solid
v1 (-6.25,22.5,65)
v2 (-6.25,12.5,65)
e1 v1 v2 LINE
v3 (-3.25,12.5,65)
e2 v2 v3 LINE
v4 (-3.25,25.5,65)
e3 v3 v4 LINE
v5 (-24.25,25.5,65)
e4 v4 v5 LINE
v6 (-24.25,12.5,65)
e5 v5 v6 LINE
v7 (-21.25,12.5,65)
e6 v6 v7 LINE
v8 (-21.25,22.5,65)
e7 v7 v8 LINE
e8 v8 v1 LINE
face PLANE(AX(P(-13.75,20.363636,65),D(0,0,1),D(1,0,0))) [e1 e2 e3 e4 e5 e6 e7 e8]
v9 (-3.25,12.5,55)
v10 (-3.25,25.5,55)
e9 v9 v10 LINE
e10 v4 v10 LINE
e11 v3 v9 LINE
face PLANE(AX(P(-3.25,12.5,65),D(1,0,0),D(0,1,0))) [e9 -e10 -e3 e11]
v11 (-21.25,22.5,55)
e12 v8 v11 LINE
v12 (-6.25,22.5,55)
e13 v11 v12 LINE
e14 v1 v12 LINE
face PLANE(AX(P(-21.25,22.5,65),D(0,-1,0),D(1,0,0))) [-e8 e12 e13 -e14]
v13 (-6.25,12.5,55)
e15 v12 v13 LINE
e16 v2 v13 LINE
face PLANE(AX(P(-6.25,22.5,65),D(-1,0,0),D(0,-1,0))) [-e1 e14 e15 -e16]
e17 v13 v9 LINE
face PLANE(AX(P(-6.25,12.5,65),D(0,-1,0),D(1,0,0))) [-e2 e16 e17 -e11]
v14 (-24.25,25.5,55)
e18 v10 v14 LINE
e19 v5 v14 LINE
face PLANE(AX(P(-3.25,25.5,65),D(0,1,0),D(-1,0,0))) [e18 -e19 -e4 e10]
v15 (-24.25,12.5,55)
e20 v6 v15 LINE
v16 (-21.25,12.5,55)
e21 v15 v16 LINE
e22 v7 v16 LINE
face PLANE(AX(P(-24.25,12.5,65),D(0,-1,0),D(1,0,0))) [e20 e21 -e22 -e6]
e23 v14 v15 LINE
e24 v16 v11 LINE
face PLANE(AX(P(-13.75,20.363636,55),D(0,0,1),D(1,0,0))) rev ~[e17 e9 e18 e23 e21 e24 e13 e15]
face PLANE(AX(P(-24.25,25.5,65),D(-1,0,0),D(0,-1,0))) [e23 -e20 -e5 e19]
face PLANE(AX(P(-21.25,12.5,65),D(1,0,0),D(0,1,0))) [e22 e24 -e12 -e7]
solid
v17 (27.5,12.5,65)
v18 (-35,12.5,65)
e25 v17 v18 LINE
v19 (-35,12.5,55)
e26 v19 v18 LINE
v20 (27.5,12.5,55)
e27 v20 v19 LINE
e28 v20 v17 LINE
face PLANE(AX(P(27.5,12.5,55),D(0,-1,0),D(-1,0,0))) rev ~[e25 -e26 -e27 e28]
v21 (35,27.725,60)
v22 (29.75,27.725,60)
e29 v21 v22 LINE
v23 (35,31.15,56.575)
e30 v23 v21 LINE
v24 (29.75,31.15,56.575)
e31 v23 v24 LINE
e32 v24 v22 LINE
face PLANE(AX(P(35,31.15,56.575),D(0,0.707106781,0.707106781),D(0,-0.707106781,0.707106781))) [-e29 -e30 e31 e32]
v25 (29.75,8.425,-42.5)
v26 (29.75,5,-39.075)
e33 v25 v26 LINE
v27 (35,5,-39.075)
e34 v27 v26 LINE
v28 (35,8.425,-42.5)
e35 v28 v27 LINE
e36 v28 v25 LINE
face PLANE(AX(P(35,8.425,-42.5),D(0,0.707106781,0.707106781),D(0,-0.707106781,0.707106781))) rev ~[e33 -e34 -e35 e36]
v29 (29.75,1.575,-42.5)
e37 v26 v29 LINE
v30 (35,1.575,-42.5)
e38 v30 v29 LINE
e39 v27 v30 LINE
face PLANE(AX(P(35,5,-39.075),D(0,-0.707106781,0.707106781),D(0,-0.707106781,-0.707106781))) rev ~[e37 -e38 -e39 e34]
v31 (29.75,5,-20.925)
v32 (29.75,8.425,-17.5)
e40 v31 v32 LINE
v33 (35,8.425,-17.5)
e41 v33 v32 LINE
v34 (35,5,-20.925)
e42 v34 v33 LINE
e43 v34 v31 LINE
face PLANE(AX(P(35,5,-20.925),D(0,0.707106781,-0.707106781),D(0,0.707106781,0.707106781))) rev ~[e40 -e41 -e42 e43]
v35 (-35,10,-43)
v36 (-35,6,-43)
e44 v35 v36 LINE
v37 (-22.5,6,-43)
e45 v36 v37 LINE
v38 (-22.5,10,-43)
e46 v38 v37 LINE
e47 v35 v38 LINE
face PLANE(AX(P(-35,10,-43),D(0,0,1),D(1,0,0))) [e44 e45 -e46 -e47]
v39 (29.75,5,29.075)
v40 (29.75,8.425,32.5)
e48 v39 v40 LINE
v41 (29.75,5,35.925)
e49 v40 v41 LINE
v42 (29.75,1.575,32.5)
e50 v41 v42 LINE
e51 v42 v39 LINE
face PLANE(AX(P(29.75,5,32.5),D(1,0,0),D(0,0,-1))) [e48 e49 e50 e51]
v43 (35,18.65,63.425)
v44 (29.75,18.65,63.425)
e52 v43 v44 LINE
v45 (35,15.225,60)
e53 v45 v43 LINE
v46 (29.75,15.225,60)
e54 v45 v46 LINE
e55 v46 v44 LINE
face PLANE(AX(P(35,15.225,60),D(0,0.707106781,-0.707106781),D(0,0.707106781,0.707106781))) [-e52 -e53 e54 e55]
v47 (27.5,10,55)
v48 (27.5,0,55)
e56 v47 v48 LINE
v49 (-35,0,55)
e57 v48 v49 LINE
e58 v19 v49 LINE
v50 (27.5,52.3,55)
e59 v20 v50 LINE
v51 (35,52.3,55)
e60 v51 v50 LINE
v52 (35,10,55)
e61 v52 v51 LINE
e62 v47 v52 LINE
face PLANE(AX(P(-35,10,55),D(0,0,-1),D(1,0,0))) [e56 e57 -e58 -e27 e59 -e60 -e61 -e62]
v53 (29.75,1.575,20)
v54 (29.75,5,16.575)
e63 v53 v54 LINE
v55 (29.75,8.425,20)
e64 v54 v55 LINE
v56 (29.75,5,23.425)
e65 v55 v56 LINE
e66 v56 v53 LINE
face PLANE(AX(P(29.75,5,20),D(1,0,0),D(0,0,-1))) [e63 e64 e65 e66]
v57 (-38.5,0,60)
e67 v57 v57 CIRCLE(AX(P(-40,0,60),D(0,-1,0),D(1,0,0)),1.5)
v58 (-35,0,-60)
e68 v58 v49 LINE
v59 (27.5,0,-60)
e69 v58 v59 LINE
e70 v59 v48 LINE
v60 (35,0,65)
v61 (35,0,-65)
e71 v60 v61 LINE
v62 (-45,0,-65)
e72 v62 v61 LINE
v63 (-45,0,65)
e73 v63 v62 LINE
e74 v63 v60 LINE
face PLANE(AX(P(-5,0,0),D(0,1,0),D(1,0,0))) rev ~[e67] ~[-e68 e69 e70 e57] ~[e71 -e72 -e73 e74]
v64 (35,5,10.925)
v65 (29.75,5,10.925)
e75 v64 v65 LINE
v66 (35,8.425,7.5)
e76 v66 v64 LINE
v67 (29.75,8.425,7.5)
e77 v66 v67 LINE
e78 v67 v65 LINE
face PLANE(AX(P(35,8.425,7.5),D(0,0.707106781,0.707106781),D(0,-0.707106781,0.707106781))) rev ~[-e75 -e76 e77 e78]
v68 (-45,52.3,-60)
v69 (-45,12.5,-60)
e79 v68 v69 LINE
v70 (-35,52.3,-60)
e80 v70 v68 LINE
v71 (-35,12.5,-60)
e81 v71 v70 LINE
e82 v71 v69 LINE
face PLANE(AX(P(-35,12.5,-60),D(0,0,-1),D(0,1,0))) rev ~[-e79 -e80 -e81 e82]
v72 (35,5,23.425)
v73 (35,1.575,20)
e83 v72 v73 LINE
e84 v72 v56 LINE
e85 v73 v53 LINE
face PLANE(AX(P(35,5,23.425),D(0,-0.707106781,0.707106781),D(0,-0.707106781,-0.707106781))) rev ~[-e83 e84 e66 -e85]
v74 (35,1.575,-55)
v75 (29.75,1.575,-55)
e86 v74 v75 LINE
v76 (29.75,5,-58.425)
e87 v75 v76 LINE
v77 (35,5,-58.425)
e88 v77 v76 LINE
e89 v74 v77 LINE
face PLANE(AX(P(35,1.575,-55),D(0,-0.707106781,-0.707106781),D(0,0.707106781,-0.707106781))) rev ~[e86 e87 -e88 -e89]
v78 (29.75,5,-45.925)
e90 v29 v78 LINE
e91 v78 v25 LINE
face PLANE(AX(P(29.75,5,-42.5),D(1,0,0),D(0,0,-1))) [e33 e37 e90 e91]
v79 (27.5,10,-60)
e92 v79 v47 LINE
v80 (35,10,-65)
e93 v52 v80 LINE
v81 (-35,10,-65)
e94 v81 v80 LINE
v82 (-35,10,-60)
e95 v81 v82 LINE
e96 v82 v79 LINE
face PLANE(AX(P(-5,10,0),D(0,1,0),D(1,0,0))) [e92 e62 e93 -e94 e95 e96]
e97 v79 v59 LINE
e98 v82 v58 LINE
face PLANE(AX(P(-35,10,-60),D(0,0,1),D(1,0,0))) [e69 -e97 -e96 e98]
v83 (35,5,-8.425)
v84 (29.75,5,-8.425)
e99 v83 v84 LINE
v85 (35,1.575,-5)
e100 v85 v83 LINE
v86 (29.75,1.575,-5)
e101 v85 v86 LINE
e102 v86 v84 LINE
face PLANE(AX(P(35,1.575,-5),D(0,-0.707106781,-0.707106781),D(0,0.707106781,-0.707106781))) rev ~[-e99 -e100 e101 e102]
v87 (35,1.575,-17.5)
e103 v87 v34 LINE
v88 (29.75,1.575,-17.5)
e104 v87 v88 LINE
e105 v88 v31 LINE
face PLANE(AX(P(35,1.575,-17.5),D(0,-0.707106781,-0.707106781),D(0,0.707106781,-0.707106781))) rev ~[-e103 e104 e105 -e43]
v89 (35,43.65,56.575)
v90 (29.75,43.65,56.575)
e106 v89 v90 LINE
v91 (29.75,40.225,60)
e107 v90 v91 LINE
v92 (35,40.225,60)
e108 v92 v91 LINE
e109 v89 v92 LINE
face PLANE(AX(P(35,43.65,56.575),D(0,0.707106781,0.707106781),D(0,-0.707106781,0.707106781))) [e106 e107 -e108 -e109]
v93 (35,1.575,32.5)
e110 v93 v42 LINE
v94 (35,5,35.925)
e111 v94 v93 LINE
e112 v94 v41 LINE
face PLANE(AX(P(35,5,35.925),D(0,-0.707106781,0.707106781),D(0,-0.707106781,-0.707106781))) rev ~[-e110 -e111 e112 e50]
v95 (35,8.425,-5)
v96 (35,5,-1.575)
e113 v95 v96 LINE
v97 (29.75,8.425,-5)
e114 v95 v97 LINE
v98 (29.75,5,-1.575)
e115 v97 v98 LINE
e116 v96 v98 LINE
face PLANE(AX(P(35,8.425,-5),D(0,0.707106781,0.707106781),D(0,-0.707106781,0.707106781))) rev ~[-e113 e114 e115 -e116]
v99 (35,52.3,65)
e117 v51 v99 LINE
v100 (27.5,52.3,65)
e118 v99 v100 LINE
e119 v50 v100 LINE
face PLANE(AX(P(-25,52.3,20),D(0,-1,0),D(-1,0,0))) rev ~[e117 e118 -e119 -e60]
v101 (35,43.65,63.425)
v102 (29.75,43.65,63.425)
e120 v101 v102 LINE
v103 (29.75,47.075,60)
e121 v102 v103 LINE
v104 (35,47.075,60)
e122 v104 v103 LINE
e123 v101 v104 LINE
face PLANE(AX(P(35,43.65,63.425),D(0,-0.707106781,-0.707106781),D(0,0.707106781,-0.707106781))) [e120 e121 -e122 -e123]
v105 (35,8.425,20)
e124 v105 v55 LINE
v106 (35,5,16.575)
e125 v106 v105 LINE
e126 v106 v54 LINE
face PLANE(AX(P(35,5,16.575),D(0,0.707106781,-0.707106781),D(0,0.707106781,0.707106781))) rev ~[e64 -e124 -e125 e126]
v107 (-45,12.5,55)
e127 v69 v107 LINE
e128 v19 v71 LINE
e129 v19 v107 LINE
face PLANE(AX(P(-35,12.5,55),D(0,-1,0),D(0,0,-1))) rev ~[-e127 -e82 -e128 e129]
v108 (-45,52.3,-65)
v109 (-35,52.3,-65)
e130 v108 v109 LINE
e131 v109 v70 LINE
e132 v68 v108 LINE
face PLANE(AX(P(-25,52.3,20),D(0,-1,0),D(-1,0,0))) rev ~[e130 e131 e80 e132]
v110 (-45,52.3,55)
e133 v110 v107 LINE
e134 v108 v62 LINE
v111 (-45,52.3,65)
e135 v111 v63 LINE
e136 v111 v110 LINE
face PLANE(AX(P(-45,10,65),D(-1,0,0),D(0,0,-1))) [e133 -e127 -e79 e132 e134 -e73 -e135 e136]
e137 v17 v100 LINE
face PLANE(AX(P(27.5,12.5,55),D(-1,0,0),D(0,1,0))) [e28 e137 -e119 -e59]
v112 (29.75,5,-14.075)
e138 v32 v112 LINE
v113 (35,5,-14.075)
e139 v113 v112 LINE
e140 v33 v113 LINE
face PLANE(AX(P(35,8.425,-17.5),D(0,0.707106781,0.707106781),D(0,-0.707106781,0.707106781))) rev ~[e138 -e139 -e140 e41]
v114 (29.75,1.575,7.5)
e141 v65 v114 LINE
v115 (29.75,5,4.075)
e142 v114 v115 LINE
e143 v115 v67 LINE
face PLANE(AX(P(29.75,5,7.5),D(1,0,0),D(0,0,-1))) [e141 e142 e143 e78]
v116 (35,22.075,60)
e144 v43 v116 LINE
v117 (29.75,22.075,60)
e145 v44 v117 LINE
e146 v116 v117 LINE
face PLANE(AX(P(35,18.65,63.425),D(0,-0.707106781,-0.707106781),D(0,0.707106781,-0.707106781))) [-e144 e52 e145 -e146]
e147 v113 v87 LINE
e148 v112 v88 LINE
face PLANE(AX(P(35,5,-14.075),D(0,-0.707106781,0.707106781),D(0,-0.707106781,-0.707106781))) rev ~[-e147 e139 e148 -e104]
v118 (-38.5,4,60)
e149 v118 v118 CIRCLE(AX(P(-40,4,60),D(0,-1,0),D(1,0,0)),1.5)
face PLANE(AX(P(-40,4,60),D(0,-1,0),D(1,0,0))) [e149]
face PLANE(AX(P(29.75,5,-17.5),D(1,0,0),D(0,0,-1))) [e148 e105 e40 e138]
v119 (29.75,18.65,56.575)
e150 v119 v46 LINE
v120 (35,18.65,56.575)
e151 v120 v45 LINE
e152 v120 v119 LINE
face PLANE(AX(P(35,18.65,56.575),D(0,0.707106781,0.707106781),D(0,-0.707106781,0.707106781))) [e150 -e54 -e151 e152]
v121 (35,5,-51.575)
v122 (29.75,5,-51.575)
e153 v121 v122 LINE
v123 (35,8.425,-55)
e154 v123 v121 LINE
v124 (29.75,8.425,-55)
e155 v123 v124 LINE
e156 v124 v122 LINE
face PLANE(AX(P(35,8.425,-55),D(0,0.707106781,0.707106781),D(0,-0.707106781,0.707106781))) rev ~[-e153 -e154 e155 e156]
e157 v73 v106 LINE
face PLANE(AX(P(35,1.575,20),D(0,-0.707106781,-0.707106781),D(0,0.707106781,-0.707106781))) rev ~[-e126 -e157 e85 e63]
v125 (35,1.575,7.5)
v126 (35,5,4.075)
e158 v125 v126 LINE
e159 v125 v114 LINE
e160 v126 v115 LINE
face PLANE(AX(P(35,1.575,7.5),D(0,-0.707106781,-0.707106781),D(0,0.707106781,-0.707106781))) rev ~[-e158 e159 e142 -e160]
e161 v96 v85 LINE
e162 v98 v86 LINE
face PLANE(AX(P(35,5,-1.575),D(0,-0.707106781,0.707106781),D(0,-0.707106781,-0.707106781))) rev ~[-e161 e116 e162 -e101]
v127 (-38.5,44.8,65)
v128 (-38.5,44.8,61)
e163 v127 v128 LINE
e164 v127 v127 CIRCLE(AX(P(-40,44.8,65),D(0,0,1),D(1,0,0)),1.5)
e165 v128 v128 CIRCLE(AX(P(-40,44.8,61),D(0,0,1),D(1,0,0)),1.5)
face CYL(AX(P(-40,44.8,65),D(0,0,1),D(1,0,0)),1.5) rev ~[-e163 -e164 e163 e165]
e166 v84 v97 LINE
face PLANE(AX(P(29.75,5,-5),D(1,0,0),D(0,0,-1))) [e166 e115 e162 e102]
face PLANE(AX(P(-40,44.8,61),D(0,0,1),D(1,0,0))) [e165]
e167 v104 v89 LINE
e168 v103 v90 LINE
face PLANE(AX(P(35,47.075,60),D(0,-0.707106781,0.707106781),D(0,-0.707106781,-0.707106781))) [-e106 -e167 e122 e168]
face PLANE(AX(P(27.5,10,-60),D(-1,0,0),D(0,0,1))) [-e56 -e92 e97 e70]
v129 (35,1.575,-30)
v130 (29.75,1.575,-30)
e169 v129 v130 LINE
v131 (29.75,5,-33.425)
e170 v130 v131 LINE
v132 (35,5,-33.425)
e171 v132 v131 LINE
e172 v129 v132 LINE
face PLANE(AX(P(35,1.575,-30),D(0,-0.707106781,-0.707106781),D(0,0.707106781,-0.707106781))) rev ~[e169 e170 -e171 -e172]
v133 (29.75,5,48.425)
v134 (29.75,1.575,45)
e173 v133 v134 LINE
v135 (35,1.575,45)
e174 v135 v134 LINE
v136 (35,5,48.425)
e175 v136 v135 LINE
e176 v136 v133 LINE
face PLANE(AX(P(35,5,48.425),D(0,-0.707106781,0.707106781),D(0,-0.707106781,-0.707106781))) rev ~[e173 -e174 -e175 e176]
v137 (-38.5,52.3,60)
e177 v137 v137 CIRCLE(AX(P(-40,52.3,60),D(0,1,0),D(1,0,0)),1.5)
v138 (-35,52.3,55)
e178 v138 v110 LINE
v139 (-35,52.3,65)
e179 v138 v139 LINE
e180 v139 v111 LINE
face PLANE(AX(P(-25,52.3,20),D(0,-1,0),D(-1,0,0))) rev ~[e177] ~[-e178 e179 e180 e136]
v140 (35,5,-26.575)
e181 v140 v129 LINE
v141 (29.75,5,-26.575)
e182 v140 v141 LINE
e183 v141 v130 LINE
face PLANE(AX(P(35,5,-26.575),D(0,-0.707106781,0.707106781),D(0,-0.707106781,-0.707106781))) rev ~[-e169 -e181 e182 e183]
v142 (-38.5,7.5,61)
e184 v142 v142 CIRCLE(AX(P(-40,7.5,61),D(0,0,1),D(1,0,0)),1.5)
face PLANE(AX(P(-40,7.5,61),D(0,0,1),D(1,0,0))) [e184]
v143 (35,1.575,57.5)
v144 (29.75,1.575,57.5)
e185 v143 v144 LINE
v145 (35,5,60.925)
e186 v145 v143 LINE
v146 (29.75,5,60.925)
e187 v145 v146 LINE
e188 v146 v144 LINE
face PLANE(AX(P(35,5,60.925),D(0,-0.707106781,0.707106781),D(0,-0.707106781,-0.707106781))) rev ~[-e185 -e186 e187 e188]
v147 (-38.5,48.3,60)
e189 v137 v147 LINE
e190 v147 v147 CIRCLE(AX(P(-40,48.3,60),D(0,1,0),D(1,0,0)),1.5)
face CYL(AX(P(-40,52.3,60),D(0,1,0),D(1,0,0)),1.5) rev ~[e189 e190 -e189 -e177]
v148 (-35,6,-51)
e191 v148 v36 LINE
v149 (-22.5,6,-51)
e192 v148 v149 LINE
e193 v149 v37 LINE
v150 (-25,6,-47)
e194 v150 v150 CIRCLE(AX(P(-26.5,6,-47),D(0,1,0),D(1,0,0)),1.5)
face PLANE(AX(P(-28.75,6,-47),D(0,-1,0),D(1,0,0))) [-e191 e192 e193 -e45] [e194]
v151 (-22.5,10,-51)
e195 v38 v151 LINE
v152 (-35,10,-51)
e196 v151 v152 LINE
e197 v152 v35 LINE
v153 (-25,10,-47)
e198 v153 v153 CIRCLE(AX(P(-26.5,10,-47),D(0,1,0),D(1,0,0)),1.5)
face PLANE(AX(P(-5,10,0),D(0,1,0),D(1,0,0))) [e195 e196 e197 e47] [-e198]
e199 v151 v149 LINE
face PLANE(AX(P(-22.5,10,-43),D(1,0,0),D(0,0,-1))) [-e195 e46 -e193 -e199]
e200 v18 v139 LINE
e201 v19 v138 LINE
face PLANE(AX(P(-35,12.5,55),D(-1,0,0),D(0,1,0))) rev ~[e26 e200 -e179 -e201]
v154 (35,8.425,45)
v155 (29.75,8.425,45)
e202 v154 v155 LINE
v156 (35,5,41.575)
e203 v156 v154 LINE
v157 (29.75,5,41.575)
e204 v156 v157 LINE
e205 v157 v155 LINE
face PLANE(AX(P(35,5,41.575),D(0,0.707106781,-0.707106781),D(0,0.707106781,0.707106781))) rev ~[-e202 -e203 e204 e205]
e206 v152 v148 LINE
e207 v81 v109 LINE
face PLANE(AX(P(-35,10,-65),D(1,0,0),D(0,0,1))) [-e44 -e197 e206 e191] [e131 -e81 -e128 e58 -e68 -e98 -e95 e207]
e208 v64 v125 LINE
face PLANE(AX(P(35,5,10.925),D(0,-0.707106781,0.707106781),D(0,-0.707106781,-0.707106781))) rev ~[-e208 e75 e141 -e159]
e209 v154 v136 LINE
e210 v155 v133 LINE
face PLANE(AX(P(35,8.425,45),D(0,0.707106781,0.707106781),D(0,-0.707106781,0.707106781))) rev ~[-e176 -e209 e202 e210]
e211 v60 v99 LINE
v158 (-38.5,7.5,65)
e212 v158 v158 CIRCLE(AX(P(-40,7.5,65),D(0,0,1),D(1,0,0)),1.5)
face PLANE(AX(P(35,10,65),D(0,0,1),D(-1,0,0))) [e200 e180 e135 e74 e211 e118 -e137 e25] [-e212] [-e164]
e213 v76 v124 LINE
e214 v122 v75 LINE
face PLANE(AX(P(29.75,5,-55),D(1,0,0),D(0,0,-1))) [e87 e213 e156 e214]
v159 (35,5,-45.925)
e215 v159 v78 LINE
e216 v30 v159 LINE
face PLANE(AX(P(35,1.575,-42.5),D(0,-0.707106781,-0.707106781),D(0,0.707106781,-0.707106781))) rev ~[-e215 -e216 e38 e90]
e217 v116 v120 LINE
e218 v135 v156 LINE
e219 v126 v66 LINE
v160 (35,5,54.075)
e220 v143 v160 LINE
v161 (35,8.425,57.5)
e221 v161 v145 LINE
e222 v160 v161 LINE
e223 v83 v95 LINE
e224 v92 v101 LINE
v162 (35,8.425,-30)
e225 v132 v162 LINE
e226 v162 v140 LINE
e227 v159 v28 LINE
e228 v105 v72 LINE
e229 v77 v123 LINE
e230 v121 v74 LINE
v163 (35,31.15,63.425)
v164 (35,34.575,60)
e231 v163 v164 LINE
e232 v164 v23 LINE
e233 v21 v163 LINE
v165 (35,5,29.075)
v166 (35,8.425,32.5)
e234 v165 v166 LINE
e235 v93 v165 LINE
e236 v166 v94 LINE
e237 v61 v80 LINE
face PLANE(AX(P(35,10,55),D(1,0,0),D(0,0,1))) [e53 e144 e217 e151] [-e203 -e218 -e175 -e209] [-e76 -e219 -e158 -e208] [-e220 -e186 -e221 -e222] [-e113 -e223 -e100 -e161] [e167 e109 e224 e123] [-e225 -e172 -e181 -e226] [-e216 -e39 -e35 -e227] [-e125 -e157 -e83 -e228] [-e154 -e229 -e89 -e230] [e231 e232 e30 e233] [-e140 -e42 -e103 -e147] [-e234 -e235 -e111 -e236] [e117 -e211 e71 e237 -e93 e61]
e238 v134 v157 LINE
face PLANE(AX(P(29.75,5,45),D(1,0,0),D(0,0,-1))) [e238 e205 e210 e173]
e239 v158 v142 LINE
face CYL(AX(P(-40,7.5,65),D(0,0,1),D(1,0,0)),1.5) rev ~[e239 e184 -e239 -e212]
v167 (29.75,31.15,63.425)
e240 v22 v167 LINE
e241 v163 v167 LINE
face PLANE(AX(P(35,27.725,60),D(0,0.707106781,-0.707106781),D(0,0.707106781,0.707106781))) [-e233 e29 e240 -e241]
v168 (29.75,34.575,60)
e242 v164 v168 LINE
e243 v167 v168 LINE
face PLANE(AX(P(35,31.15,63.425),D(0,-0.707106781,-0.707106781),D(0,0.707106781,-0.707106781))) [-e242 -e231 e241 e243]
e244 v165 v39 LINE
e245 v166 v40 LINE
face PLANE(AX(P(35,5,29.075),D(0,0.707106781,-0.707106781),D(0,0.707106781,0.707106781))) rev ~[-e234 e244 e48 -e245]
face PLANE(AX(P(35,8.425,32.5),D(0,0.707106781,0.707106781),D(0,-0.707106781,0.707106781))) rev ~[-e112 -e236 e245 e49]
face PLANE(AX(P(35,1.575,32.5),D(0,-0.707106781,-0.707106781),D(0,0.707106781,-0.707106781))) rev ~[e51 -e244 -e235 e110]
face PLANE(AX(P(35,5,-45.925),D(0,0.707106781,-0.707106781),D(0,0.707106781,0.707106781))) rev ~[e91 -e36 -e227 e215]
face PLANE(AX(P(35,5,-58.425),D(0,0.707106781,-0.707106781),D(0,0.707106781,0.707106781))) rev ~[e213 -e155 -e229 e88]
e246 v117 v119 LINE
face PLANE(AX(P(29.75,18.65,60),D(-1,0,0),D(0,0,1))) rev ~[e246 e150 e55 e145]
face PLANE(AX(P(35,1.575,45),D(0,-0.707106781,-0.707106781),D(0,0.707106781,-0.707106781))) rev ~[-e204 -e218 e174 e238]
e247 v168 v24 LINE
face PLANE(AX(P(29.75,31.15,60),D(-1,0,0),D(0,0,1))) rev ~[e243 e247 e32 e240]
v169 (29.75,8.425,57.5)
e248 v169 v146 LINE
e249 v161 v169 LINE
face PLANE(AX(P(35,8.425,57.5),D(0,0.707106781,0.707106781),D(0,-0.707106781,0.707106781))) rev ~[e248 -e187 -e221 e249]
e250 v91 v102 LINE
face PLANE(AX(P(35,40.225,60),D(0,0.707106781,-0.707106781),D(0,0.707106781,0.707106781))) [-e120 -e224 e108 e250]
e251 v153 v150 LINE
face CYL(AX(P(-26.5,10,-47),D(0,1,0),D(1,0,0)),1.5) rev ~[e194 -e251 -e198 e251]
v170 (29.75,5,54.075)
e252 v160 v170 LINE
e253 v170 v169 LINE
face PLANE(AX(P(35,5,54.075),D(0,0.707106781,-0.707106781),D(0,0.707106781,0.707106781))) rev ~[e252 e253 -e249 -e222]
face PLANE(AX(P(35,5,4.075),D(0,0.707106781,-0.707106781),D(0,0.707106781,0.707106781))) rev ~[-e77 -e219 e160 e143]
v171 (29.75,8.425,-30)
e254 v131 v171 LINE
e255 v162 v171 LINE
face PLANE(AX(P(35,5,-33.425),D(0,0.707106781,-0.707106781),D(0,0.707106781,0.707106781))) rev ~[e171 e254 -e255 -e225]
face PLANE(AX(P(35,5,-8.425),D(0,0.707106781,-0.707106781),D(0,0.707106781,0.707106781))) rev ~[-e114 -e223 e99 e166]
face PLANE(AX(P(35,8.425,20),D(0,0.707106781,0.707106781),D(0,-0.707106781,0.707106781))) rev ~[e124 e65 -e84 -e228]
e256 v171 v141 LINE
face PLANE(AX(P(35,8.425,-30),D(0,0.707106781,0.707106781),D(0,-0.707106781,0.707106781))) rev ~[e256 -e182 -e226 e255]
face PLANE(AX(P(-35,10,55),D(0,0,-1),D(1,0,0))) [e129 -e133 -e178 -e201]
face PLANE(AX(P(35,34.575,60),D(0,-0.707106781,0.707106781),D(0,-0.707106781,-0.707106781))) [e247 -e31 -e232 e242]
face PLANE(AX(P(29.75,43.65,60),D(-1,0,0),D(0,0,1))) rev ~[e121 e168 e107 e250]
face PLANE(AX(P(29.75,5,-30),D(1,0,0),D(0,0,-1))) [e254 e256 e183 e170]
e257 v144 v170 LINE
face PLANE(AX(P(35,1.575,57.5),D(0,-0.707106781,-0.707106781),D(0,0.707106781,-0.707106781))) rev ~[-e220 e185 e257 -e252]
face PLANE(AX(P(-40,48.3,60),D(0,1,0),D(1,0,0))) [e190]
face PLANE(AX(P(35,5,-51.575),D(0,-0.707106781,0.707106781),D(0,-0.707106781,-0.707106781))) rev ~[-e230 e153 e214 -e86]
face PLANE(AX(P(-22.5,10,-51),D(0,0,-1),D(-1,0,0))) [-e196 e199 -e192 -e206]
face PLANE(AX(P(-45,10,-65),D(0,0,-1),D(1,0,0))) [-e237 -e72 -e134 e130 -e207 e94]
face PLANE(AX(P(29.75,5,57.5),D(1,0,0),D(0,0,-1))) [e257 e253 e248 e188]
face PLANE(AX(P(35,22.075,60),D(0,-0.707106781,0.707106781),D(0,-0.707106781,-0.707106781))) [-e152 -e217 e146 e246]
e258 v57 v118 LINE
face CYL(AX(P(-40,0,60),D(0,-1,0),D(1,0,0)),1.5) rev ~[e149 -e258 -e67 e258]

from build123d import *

# Parameters (mm, degrees)
SKETCH1_W           = 80
SKETCH1_H           = 130
BOSS_EXTRUDE1_DEPTH = 10
BOSS_EXTRUDE2_DEPTH = 42.3
CUT_EXTRUDE1_DEPTH  = 5.25
SKETCH4_R           = 1.5
CUT_EXTRUDE2_DEPTH  = 11
CUT_EXTRUDE3_DEPTH  = 11
SKETCH7_W           = 115
SKETCH7_H           = 39.8
CUT_EXTRUDE4_DEPTH  = 11
SKETCH8_W           = 62.5
SKETCH8_H           = 39.8
CUT_EXTRUDE5_DEPTH  = 10
SKETCH9_R           = 1.5
CUT_EXTRUDE6_DEPTH  = 4
SKETCH10_R          = 1.5
CUT_EXTRUDE7_DEPTH  = 4
SKETCH11_W          = 12.5
SKETCH11_H          = 8
CUT_EXTRUDE8_DEPTH  = 6
BOSS_EXTRUDE3_DEPTH = 10
SKETCH14_R          = 1.5
CUT_EXTRUDE9_DEPTH  = 4


with BuildPart() as part:
    # Sketch1 → Boss-Extrude1 (new body)
    with BuildSketch(Plane(origin=(0, 0, 0), x_dir=(1, 0, 0), z_dir=(0, 1, 0))):
        with Locations((-5, 0)):
            Rectangle(SKETCH1_W, SKETCH1_H)
    extrude(amount=BOSS_EXTRUDE1_DEPTH)

    # Sketch2 → Boss-Extrude2 (add)
    with BuildSketch(Plane(origin=(0, 10, 0), x_dir=(1, 0, 0), z_dir=(0, 1, 0))):
        Polygon((35, -65), (-45, -65), (-45, 65), (-35, 65), (-35, -55), (35, -55), align=None)
    extrude(amount=BOSS_EXTRUDE2_DEPTH)

    # Sketch3 → Cut-Extrude1 (cut)
    with BuildSketch(Plane(origin=(35, 0, 0), x_dir=(0, 0, -1), z_dir=(1, 0, 0))):
        Polygon((20.925, 5), (17.5, 8.425), (14.075, 5), (17.5, 1.575), align=None)
        Polygon((33.425, 5), (30, 8.425), (26.575, 5), (30, 1.575), align=None)
        Polygon((5, 8.425), (1.575, 5), (5, 1.575), (8.425, 5), align=None)
        Polygon((-4.075, 5), (-7.5, 8.425), (-10.925, 5), (-7.5, 1.575), align=None)
        Polygon((-16.575, 5), (-20, 8.425), (-23.425, 5), (-20, 1.575), align=None)
        Polygon((-29.075, 5), (-32.5, 8.425), (-35.925, 5), (-32.5, 1.575), align=None)
        Polygon((-41.575, 5), (-45, 8.425), (-48.425, 5), (-45, 1.575), align=None)
        Polygon((-54.075, 5), (-57.5, 8.425), (-60.925, 5), (-57.5, 1.575), align=None)
        Polygon((-63.425, 31.15), (-60, 34.575), (-56.575, 31.15), (-60, 27.725), align=None)
        Polygon((-60, 40.225), (-63.425, 43.65), (-60, 47.075), (-56.575, 43.65), align=None)
        Polygon((-60, 15.225), (-63.425, 18.65), (-60, 22.075), (-56.575, 18.65), align=None)
        Polygon((45.925, 5), (42.5, 8.425), (39.075, 5), (42.5, 1.575), align=None)
        Polygon((58.425, 5), (55, 8.425), (51.575, 5), (55, 1.575), align=None)
    extrude(amount=-CUT_EXTRUDE1_DEPTH, mode=Mode.SUBTRACT)

    # Sketch4 → Cut-Extrude2 (cut, through all)
    with BuildSketch(Plane(origin=(0, 10, 0), x_dir=(1, 0, 0), z_dir=(0, 1, 0))):
        with Locations((-26.5, 47)):
            Circle(SKETCH4_R)
    extrude(amount=-CUT_EXTRUDE2_DEPTH, mode=Mode.SUBTRACT)

    # Sketch5 → Cut-Extrude3 (cut, through all)
    with BuildSketch(Plane(origin=(0, 10, 0), x_dir=(1, 0, 0), z_dir=(0, 1, 0))):
        Polygon((-35, -55), (-35, 43), (-22.5, 43), (-22.5, 51), (-35, 51), (-35, 60), (27.5, 60), (27.5, -55), align=None)
    extrude(amount=-CUT_EXTRUDE3_DEPTH, mode=Mode.SUBTRACT)

    # Sketch7 → Cut-Extrude4 (cut, through all)
    with BuildSketch(Plane(origin=(-35, 0, 0), x_dir=(0, 0, -1), z_dir=(1, 0, 0))):
        with Locations((2.5, 32.4)):
            Rectangle(SKETCH7_W, SKETCH7_H)
    extrude(amount=-CUT_EXTRUDE4_DEPTH, mode=Mode.SUBTRACT)

    # Sketch8 → Cut-Extrude5 (cut)
    with BuildSketch(Plane(origin=(0, 0, 55), x_dir=(-1, 0, 0), z_dir=(0, 0, -1))):
        with Locations((3.75, 32.4)):
            Rectangle(SKETCH8_W, SKETCH8_H)
    extrude(amount=-CUT_EXTRUDE5_DEPTH, mode=Mode.SUBTRACT)

    # Sketch9 → Cut-Extrude6 (cut)
    with BuildSketch(Plane(origin=(0, 52.3, 0), x_dir=(1, 0, 0), z_dir=(0, 1, 0))):
        with Locations((-40, -60)):
            Circle(SKETCH9_R)
    extrude(amount=-CUT_EXTRUDE6_DEPTH, mode=Mode.SUBTRACT)

    # Sketch10 → Cut-Extrude7 (cut)
    with BuildSketch(Plane.XZ):
        with Locations((-40, 60)):
            Circle(SKETCH10_R)
    extrude(amount=-CUT_EXTRUDE7_DEPTH, mode=Mode.SUBTRACT)

    # Sketch11 → Cut-Extrude8 (cut)
    with BuildSketch(Plane.XZ):
        with Locations((-28.75, -47)):
            Rectangle(SKETCH11_W, SKETCH11_H)
    extrude(amount=-CUT_EXTRUDE8_DEPTH, mode=Mode.SUBTRACT)

    # Sketch14 → Cut-Extrude9 (cut)
    with BuildSketch(Plane.XY.offset(65)):
        with Locations((-40, 44.8)):
            Circle(SKETCH14_R)
        with Locations((-40, 7.5)):
            Circle(SKETCH14_R)
    extrude(amount=-CUT_EXTRUDE9_DEPTH, mode=Mode.SUBTRACT)


with BuildPart() as body_2:
    # Sketch13 → Boss-Extrude3 (new body)
    with BuildSketch(Plane.XY.offset(65)):
        Polygon((-24.25, 12.5), (-21.25, 12.5), (-21.25, 22.5), (-6.25, 22.5), (-6.25, 12.5), (-3.25, 12.5), (-3.25, 25.5), (-24.25, 25.5), align=None)
    extrude(amount=-BOSS_EXTRUDE3_DEPTH)


solid = Compound([part.part, body_2.part])
